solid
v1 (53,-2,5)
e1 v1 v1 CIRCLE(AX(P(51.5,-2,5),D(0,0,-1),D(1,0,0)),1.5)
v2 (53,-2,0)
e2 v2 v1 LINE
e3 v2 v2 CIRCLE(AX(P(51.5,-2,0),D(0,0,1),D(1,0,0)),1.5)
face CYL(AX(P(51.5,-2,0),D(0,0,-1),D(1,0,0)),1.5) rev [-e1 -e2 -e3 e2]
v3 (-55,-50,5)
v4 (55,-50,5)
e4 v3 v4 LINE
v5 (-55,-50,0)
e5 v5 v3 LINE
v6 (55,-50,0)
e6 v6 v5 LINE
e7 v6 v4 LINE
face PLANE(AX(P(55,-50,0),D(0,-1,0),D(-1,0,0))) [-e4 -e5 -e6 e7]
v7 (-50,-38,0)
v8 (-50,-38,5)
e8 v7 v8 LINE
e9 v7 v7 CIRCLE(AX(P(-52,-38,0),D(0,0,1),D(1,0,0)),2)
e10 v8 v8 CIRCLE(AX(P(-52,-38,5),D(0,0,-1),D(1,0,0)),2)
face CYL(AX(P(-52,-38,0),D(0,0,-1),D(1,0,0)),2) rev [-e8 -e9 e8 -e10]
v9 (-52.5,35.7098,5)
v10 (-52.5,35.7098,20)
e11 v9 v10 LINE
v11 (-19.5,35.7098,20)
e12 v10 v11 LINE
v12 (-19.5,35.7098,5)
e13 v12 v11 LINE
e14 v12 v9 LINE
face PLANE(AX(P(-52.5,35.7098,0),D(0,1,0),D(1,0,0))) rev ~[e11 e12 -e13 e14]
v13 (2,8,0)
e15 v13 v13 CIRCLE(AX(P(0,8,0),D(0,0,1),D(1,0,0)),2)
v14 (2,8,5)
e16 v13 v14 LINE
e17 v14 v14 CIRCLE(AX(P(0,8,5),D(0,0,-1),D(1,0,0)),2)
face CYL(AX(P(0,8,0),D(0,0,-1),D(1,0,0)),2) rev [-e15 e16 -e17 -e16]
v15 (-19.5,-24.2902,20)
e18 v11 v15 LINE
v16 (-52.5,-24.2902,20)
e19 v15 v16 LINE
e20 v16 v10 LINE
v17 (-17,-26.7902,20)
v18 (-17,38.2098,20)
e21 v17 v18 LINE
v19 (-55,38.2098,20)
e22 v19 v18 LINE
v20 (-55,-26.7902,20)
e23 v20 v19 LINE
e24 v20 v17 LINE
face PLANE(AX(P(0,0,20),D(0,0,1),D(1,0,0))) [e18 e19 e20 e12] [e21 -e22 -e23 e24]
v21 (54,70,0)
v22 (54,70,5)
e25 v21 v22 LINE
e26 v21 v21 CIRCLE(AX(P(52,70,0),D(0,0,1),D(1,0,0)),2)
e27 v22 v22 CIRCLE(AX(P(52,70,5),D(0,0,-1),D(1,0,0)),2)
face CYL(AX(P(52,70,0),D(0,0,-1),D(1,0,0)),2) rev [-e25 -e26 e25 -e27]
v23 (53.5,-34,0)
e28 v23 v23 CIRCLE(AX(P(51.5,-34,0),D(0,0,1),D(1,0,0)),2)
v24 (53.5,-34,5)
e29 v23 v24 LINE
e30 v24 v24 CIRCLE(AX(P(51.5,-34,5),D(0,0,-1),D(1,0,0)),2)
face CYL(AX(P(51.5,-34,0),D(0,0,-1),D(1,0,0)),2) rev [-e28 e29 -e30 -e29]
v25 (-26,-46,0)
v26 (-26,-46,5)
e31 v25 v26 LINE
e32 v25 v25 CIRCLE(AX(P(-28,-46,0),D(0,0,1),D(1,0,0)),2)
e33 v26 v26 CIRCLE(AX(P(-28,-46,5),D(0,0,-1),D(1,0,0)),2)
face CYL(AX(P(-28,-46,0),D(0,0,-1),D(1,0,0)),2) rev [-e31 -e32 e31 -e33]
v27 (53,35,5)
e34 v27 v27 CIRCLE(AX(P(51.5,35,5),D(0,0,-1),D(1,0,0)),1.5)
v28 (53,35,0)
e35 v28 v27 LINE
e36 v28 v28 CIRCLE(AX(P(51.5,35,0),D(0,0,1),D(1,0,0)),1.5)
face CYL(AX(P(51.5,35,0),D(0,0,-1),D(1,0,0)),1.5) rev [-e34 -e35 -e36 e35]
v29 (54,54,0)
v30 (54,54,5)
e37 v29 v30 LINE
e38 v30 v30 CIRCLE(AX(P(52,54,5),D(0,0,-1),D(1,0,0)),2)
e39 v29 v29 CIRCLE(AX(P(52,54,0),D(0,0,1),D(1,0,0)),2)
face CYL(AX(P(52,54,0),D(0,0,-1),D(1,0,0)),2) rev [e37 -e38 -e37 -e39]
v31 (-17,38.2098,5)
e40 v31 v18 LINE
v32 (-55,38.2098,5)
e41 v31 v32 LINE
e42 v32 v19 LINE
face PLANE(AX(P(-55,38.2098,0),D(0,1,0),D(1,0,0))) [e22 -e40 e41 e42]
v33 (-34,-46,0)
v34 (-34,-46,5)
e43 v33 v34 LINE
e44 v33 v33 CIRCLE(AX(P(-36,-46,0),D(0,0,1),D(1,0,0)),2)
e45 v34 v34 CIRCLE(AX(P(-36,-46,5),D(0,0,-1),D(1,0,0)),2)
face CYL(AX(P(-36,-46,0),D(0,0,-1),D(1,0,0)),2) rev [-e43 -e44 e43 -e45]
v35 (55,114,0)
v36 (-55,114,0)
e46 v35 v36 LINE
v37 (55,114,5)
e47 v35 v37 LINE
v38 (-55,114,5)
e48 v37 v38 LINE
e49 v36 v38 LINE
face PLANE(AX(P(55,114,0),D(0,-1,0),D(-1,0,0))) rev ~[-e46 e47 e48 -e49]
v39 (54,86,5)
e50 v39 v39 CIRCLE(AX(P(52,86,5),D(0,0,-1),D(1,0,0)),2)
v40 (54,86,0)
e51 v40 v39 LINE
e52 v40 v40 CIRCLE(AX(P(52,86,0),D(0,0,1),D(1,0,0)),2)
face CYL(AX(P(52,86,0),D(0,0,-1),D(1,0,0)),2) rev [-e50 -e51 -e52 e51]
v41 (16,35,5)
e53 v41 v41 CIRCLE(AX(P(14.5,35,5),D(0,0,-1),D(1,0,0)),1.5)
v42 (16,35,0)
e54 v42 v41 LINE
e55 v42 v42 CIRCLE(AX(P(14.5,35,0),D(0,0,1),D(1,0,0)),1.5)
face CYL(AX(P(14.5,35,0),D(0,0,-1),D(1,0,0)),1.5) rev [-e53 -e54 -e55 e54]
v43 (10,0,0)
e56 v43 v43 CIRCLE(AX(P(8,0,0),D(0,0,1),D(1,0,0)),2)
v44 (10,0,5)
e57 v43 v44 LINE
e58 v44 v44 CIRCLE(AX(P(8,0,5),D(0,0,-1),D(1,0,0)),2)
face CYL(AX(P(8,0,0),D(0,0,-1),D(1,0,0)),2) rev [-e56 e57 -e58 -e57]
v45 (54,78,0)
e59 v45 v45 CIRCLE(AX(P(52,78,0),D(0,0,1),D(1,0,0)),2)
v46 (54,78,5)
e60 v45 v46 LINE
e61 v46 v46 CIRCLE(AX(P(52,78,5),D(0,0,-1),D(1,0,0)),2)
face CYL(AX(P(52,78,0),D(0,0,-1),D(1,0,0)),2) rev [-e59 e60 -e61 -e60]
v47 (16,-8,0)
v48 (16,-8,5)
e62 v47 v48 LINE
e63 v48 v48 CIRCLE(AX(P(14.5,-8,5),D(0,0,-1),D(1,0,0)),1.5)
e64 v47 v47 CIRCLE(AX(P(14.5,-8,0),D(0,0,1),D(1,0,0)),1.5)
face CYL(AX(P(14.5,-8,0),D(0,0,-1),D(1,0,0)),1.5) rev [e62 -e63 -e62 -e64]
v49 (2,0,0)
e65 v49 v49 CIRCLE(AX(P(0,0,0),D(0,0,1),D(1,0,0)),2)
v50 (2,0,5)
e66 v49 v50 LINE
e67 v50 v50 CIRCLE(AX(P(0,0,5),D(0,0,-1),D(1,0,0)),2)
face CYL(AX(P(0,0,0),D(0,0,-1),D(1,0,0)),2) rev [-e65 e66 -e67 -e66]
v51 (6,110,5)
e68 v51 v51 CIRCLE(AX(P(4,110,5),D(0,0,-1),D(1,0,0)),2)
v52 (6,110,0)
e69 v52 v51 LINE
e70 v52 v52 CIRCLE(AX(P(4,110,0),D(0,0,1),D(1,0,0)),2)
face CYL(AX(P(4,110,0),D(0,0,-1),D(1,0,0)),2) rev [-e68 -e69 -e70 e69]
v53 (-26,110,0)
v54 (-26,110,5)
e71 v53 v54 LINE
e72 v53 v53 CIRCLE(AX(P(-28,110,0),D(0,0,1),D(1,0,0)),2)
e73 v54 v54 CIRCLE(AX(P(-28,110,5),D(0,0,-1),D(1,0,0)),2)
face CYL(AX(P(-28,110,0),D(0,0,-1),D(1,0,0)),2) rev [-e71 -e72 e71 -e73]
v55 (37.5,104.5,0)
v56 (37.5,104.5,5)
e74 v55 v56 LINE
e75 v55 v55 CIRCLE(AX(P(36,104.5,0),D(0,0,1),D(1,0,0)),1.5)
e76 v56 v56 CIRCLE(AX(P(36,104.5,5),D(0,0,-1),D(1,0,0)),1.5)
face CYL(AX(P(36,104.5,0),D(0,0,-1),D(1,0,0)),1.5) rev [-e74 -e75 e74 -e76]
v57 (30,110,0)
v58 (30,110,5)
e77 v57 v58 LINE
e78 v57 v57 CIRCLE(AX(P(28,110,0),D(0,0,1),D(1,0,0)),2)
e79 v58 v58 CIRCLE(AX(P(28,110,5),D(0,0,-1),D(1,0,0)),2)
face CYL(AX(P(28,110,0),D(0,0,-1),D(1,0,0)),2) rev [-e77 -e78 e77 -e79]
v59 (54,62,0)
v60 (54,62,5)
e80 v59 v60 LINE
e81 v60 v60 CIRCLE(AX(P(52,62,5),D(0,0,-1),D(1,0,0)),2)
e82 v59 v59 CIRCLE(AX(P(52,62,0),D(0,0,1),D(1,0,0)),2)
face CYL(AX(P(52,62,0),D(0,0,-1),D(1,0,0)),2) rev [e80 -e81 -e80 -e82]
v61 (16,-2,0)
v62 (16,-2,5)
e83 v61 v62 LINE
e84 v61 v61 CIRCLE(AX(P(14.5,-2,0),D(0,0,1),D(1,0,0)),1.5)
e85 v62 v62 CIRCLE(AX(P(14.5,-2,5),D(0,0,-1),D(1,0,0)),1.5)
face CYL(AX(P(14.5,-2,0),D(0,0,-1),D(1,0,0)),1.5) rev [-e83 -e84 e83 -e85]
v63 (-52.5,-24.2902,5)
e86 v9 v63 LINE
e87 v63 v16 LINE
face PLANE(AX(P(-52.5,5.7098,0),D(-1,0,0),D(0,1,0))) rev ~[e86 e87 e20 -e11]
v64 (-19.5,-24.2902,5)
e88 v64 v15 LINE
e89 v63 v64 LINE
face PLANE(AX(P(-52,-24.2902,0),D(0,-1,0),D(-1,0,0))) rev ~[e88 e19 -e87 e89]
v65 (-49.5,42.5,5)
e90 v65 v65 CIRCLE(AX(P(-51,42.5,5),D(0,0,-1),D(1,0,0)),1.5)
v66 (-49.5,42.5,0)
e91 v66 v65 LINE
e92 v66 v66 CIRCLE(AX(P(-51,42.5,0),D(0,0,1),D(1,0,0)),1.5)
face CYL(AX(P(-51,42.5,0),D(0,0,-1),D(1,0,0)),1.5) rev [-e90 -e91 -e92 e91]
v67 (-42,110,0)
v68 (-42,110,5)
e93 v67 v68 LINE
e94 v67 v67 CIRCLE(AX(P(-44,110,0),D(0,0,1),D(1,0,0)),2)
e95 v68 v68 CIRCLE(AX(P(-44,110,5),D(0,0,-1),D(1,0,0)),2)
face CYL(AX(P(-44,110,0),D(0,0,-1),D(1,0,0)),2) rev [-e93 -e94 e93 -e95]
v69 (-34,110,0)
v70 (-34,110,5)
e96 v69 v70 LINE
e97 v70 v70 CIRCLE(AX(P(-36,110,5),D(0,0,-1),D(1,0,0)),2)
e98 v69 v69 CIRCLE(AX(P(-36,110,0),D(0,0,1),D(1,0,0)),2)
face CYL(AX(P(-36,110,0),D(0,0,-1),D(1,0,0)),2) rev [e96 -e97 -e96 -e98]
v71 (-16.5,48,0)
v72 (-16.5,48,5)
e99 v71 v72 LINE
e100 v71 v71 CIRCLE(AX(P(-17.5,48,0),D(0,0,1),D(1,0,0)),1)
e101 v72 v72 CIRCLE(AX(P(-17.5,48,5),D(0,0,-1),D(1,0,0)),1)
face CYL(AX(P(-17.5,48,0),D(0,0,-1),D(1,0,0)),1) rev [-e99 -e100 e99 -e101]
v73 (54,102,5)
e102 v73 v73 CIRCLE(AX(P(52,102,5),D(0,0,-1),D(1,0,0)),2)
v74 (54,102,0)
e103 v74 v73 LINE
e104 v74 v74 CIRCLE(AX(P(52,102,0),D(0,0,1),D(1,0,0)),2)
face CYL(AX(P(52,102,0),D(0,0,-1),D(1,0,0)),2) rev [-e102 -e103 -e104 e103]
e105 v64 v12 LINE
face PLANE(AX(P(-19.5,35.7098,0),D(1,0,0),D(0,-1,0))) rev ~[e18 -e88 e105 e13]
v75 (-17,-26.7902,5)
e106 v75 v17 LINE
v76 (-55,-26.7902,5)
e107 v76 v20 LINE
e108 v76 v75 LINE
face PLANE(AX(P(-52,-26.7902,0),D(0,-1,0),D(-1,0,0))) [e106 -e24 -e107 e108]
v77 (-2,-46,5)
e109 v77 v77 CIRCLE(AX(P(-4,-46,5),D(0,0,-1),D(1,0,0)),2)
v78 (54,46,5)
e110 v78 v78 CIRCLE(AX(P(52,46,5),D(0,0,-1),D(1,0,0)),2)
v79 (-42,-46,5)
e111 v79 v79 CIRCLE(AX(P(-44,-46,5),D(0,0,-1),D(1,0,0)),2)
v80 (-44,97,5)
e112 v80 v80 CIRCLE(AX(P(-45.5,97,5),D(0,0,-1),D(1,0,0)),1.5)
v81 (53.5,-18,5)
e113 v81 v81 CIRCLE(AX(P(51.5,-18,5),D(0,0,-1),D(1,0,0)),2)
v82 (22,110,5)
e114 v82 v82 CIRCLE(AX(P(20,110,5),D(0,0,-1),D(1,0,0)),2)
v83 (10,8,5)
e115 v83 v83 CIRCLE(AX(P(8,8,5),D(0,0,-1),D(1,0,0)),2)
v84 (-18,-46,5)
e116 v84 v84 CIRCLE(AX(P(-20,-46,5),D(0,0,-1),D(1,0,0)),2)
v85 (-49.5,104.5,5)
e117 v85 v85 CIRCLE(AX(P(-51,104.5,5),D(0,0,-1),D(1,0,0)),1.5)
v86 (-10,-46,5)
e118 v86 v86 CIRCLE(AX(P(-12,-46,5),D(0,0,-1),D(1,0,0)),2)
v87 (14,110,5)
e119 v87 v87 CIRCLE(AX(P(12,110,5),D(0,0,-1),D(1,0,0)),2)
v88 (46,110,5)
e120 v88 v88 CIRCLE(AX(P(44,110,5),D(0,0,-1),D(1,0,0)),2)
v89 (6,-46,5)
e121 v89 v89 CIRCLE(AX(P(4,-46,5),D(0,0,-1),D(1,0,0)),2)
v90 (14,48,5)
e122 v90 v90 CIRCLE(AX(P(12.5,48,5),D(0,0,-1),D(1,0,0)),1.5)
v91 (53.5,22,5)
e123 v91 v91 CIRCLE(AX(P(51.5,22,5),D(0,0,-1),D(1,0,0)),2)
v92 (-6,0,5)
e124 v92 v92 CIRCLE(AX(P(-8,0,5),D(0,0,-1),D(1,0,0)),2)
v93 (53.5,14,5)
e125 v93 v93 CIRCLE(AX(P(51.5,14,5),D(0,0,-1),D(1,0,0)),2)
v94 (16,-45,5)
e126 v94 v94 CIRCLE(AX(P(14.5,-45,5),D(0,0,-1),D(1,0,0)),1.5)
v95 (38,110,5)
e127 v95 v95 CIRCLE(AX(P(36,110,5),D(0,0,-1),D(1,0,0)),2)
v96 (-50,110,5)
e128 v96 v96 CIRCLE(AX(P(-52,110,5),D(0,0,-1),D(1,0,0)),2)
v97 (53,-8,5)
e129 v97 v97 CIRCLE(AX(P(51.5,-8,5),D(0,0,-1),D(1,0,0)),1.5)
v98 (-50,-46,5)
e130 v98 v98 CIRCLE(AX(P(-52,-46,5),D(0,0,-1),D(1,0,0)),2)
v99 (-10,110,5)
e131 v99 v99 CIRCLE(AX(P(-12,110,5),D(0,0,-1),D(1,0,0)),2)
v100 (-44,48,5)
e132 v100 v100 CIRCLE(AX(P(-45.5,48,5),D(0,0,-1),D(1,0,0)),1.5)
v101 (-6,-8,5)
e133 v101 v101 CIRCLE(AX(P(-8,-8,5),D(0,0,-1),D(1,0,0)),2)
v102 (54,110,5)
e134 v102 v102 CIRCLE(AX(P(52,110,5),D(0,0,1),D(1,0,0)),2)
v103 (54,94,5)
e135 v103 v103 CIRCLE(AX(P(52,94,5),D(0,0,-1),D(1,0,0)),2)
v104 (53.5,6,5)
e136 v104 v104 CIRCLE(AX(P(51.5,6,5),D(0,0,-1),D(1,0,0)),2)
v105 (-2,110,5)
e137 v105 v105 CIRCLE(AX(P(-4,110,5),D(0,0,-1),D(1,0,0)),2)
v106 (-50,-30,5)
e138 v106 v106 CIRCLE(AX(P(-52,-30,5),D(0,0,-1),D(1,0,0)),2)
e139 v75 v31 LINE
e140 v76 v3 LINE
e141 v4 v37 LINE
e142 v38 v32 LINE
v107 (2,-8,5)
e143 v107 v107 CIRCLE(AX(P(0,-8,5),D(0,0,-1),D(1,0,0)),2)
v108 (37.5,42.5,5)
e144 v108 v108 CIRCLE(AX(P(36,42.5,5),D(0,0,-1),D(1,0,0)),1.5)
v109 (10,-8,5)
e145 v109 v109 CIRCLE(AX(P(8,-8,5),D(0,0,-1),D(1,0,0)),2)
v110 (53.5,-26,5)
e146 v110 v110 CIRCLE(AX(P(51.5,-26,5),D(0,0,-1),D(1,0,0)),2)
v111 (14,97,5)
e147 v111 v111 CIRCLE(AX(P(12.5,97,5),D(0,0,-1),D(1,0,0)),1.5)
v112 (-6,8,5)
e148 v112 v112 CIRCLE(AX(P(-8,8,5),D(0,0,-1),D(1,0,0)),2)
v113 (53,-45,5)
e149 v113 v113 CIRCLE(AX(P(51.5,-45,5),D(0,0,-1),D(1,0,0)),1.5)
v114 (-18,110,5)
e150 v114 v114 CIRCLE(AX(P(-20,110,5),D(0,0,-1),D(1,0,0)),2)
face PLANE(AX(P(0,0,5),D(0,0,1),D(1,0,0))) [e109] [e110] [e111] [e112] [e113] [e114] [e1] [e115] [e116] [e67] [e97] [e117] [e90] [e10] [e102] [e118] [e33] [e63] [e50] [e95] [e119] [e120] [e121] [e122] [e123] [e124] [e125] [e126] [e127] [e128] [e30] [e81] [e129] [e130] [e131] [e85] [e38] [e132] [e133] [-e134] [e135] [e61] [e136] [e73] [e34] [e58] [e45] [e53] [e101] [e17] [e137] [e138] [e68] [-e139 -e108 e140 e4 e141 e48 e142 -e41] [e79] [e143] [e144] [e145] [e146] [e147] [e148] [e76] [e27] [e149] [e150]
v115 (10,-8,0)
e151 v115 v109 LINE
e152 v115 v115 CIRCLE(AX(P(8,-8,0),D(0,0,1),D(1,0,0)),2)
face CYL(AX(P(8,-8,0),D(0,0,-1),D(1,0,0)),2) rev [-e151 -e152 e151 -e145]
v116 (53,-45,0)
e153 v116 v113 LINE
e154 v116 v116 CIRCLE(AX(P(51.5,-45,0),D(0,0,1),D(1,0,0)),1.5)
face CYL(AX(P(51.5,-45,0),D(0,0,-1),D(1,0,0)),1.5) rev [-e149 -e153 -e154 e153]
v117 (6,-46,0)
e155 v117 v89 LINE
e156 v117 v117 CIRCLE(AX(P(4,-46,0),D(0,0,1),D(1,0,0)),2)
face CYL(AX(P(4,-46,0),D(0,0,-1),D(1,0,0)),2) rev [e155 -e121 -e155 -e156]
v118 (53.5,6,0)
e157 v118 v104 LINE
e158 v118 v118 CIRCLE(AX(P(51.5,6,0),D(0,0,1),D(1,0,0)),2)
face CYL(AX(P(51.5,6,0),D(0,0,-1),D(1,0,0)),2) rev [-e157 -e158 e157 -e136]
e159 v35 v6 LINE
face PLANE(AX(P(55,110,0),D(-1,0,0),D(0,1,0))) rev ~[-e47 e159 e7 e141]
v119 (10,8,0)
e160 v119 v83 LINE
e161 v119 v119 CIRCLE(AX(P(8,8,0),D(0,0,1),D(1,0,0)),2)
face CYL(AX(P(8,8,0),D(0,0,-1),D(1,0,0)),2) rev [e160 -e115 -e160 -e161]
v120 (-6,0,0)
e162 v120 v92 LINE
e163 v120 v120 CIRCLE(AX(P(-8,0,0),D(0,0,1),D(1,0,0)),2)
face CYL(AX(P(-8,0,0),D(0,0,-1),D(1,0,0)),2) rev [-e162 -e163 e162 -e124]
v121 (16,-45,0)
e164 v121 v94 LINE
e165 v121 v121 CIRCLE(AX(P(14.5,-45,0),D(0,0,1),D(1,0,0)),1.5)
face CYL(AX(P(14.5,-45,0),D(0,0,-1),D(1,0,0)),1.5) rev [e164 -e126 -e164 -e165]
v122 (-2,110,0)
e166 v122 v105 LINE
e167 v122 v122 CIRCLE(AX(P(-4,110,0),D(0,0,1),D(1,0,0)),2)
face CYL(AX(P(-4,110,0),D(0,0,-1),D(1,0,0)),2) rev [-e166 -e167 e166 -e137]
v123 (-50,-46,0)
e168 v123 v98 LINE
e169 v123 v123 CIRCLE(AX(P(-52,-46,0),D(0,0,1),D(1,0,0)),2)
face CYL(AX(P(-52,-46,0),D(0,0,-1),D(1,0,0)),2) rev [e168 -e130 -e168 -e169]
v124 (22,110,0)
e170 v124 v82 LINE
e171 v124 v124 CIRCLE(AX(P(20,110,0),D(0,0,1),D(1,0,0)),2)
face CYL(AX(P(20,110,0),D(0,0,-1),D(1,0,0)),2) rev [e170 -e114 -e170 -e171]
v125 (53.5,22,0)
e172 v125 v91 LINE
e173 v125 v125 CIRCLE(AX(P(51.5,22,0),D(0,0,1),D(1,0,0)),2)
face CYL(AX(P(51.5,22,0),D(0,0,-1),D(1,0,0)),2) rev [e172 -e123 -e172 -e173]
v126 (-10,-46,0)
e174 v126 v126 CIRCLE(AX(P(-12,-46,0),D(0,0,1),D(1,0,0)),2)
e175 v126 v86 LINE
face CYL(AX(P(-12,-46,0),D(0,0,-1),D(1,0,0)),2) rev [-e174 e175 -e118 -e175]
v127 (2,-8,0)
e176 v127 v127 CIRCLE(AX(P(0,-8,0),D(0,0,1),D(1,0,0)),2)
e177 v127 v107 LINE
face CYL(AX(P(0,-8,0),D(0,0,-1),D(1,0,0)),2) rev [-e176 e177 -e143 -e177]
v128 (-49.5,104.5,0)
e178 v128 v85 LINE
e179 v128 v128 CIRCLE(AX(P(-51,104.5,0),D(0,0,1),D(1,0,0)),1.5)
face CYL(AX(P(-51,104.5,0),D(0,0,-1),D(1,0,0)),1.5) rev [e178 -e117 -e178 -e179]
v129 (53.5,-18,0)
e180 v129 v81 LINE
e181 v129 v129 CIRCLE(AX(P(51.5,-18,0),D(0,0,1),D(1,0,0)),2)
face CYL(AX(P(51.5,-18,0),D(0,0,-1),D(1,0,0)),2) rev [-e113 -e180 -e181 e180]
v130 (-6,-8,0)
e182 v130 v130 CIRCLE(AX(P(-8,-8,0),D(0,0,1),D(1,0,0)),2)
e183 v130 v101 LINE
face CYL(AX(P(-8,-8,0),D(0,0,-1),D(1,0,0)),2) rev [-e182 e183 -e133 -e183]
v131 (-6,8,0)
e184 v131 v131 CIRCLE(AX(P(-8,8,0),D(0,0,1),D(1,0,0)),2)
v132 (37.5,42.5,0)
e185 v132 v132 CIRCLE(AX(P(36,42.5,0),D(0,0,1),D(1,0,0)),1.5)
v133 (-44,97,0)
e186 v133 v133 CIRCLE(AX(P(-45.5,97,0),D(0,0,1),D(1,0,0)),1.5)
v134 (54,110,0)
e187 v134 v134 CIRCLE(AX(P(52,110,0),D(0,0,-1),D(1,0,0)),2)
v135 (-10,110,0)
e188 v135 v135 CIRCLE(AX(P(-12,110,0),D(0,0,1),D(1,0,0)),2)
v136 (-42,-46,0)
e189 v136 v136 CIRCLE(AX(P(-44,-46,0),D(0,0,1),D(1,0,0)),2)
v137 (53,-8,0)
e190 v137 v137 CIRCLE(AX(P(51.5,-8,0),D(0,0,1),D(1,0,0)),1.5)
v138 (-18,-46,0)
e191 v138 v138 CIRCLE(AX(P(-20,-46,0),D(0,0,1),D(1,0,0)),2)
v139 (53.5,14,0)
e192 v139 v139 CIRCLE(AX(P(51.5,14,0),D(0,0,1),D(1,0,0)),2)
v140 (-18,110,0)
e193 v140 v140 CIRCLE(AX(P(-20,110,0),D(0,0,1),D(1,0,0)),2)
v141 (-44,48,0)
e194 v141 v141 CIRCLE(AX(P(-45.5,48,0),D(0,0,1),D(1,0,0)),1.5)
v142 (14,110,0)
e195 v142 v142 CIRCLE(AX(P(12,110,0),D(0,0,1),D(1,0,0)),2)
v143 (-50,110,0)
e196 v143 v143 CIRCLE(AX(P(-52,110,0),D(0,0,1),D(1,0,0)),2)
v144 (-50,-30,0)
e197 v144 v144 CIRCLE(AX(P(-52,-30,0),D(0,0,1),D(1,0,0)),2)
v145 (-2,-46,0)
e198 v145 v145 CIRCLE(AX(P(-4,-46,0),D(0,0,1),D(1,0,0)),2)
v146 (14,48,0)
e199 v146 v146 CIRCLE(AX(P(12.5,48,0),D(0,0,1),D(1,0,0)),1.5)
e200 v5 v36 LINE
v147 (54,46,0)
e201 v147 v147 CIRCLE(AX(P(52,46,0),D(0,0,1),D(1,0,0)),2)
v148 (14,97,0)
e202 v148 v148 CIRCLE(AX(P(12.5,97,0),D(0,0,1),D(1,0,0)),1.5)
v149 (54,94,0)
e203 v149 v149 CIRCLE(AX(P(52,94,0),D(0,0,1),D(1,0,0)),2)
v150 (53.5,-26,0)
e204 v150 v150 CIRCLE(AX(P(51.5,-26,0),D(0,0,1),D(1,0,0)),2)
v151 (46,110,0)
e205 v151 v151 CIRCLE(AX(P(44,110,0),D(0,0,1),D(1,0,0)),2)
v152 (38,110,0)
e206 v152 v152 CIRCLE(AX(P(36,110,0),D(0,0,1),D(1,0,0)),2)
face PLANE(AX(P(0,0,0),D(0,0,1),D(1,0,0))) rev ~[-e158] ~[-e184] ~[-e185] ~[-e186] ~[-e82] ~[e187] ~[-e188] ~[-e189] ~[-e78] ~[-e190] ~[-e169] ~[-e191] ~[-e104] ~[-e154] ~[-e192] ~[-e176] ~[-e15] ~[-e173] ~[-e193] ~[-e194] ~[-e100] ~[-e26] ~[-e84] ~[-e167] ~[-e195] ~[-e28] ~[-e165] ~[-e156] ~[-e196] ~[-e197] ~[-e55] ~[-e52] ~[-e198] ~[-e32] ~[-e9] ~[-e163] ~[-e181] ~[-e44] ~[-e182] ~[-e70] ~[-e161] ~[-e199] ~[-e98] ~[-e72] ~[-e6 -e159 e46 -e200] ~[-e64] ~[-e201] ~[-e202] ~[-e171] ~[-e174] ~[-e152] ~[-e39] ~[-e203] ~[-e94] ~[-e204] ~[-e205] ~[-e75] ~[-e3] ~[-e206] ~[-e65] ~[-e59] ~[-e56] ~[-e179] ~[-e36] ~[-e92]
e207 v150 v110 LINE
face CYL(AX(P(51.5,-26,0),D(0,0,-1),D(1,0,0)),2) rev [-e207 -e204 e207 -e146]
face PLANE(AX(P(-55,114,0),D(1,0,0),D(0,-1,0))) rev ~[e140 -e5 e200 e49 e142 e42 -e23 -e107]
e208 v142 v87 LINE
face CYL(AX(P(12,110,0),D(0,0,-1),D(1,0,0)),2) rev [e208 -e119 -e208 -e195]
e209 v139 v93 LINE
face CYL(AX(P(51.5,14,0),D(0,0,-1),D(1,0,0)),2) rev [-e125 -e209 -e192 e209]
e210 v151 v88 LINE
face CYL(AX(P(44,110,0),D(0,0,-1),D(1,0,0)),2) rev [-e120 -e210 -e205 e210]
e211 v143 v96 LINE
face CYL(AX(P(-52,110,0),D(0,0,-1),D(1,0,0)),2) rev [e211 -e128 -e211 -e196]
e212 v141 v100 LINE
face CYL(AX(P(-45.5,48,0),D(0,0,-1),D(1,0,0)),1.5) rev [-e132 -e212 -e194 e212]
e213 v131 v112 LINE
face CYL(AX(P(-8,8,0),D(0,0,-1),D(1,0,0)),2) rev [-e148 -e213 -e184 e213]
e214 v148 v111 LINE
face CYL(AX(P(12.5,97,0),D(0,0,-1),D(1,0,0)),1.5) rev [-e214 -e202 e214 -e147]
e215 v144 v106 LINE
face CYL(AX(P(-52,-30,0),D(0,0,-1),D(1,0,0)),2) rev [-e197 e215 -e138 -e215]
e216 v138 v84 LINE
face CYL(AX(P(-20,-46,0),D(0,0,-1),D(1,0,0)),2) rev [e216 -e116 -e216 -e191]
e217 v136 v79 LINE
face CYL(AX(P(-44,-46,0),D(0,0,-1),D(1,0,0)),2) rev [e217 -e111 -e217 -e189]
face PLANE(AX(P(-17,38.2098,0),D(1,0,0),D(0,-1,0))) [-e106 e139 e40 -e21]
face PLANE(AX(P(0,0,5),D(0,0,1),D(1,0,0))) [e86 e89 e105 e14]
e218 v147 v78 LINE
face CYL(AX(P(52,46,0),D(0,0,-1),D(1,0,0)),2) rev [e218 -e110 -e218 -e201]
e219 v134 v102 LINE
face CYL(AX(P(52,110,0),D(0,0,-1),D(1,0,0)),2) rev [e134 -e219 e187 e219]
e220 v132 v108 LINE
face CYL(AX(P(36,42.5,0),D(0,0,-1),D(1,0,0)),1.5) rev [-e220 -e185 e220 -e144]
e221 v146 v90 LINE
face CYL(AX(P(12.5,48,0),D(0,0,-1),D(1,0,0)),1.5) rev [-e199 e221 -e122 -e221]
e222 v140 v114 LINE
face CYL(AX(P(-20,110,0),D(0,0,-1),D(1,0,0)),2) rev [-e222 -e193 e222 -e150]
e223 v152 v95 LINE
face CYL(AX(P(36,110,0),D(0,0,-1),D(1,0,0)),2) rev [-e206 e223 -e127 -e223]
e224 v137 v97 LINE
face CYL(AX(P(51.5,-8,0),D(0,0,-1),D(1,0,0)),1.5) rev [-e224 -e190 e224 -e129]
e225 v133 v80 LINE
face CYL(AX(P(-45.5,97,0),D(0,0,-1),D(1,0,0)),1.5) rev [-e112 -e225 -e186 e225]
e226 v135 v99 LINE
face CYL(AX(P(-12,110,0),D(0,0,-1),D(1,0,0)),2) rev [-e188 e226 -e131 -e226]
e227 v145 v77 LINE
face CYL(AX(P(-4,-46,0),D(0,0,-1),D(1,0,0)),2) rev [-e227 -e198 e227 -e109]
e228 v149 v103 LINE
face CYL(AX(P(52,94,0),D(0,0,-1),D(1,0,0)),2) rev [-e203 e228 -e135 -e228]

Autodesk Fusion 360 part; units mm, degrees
sketch "Skizze1" plane through (0, 0, 0) normal (0, 0, 1) x (1, 0, 0)
  line L0 (-55, 110) -> (55, 110)
  line L1 (55, 110) -> (55, -50)
  line L2 (55, -50) -> (-55, -50)
  line L3 (-55, -50) -> (-55, 110)
  circle A0 centre (0, 0) radius 2
  line L4 (0, 0) -> (-8, 0)
  line L5 (-8, 0) -> (-8, 8)
  line L6 (-8, 8) -> (0, 8)
  line L7 (0, 8) -> (0, 0)
  line L8 (-8, 8) -> (8, 8)
  line L9 (8, 8) -> (8, -8)
  line L10 (8, -8) -> (-8, -8)
  line L11 (-8, -8) -> (-8, 8)
  line L12 (0, 8) -> (8, 8)
  line L13 (8, 8) -> (8, -8)
  line L14 (8, -8) -> (0, -8)
  line L15 (0, -8) -> (0, 8)
  line L16 (-8, 0) -> (8, 0)
  line L17 (8, 0) -> (8, -8)
  line L18 (8, -8) -> (-8, -8)
  line L19 (-8, -8) -> (-8, 0)
  circle A1 centre (0, 8) radius 2
  circle A2 centre (-8, 8) radius 2
  circle A3 centre (-8, 0) radius 2
  circle A4 centre (-8, -8) radius 2
  circle A5 centre (0, -8) radius 2
  circle A6 centre (8, -8) radius 2
  circle A7 centre (8, 0) radius 2
  circle A8 centre (8, 8) radius 2
  circle A9 centre (-45.5, 97) radius 1.5
  circle A10 centre (12.5, 48) radius 1.5
  line L20 (-45.5, 97) -> (12.5, 97)
  line L21 (12.5, 97) -> (12.5, 48)
  line L22 (12.5, 48) -> (-45.5, 48)
  line L23 (-45.5, 48) -> (-45.5, 97)
  circle A11 centre (-45.5, 48) radius 1.5
  circle A12 centre (12.5, 97) radius 1.5
  line L24 (-50, 101.5) -> (35, 101.5)
  line L25 (35, 101.5) -> (35, 45.5)
  line L26 (35, 45.5) -> (-50, 45.5)
  line L27 (-50, 45.5) -> (-50, 101.5)
  line L28 (-45.5, 48) -> (12.5, 48)
  line L29 (12.5, 48) -> (12.5, 72.5)
  line L30 (-50, 45.5) -> (35, 45.5)
  line L31 (35, 45.5) -> (35, 73.5)
  line L32 (-51, 104.5) -> (36, 104.5)
  line L33 (36, 104.5) -> (36, 42.5)
  line L34 (36, 42.5) -> (-51, 42.5)
  line L35 (-51, 42.5) -> (-51, 104.5)
  circle A13 centre (-51, 42.5) radius 1.5
  circle A14 centre (-51, 104.5) radius 1.5
  circle A15 centre (36, 104.5) radius 1.5
  circle A16 centre (36, 42.5) radius 1.5
  line L36 (-7.5, 104.5) -> (-7.5, 42.5)
  line L37 (36, 73.5) -> (-51, 73.5)
  line L38 (-7.5, 101.5) -> (-7.5, 45.5)
  line L39 (35, 73.5) -> (-50, 73.5)
  line L40 (-52.5, 35.7098) -> (-19.5, 35.7098)
  line L41 (-19.5, 35.7098) -> (-19.5, -24.2902)
  line L42 (-19.5, -24.2902) -> (-52.5, -24.2902)
  line L43 (-52.5, -24.2902) -> (-52.5, 35.7098)
  line L44 (-36, 35.7098) -> (-36, -24.2902)
  line L45 (-19.5, 5.7098) -> (-52.5, 5.7098)
  line L46 (-55, 38.2098) -> (-17, 38.2098)
  line L47 (-17, 38.2098) -> (-17, -26.7902)
  line L48 (-17, -26.7902) -> (-55, -26.7902)
  line L49 (-55, -26.7902) -> (-55, 38.2098)
  line L50 (-36, 38.2098) -> (-36, -26.7902)
  line L51 (-17, 5.7098) -> (-55, 5.7098)
  line L52 (11.5, -5) -> (54.5, -5)
  line L53 (54.5, -5) -> (54.5, -48)
  line L54 (54.5, -48) -> (11.5, -48)
  line L55 (11.5, -48) -> (11.5, -5)
  line L56 (14.5, -8) -> (51.5, -8)
  line L57 (51.5, -8) -> (51.5, -45)
  line L58 (51.5, -45) -> (14.5, -45)
  line L59 (14.5, -45) -> (14.5, -8)
  circle A17 centre (14.5, -8) radius 1.5
  circle A18 centre (51.5, -8) radius 1.5
  circle A19 centre (51.5, -45) radius 1.5
  circle A20 centre (14.5, -45) radius 1.5
  line L60 (14.5, -26.5) -> (51.5, -26.5)
  line L61 (33, -8) -> (33, -45)
  line L62 (33, -5) -> (33, -48)
  line L63 (54.5, -26.5) -> (11.5, -26.5)
  line L64 (11.5, -5) -> (11.5, 38)
  circle A21 centre (14.5, -2) radius 1.5
  circle A22 centre (51.5, 35) radius 1.5
  circle A23 centre (14.5, 35) radius 1.5
  line L65 (11.5, 38) -> (54.5, 38)
  line L66 (33, 38) -> (33, -5)
  line L67 (54.5, 16.5) -> (11.5, 16.5)
  line L68 (33, 35) -> (33, -2)
  line L69 (14.5, 16.5) -> (51.5, 16.5)
  line L70 (14.5, 35) -> (51.5, 35)
  line L71 (54.5, -5) -> (11.5, -5)
  line L72 (51.5, 35) -> (51.5, -2)
  line L73 (54.5, 38) -> (54.5, -5)
  line L74 (51.5, -2) -> (14.5, -2)
  circle A24 centre (51.5, -2) radius 1.5
  line L75 (14.5, -2) -> (14.5, 35)
  line L76 (33, 16.5) -> (33, -26.5)
  line L77 (-55, 110) -> (55, 110)
  line L78 (55, 110) -> (55, 104.5)
  line L79 (55, 104.5) -> (-55, 104.5)
  line L80 (-55, 104.5) -> (-55, 110)
  line L81 (-55, 104.5) -> (-7.5, 104.5)
  line L82 (-7.5, 104.5) -> (-7.5, 73.5)
  line L83 (-7.5, 73.5) -> (-55, 73.5)
  line L84 (-55, 73.5) -> (-55, 104.5)
  line L85 (-55, 42.7098) -> (-36, 42.7098)
  line L86 (-36, 42.7098) -> (-36, 5.7098)
  line L87 (-36, 5.7098) -> (-55, 5.7098)
  line L88 (-55, 5.7098) -> (-55, 42.7098)
  line L89 (55, 42.5) -> (33, 42.5)
  line L90 (33, 42.5) -> (33, 16.5)
  line L91 (33, 16.5) -> (55, 16.5)
  line L92 (55, 16.5) -> (55, 42.5)
  line L93 (-55, 110) -> (55, 110)
  line L94 (55, 110) -> (55, 114)
  line L95 (55, 114) -> (-55, 114)
  line L96 (-55, 114) -> (-55, 110)
  circle A25 centre (-28, 110) radius 2
  circle A26 centre (-20, 110) radius 2
  circle A27 centre (-12, 110) radius 2
  circle A28 centre (-36, 110) radius 2
  circle A29 centre (-44, 110) radius 2
  circle A30 centre (-52, 110) radius 2
  circle A31 centre (-4, 110) radius 2
  circle A32 centre (4, 110) radius 2
  circle A33 centre (12, 110) radius 2
  circle A34 centre (20, 110) radius 2
  circle A35 centre (28, 110) radius 2
  circle A36 centre (36, 110) radius 2
  circle A37 centre (44, 110) radius 2
  circle A38 centre (52, 110) radius 2
  line L97 (52, 110) -> (52, 42.5)
  circle A39 centre (52, 102) radius 2
  circle A40 centre (52, 94) radius 2
  circle A41 centre (52, 86) radius 2
  circle A42 centre (52, 70) radius 2
  circle A43 centre (52, 78) radius 2
  circle A44 centre (52, 62) radius 2
  circle A45 centre (52, 54) radius 2
  circle A46 centre (52, 46) radius 2
  line L98 (-55, -50) -> (11.5, -50)
  line L99 (11.5, -50) -> (11.5, -46)
  line L100 (11.5, -46) -> (-55, -46)
  line L101 (-55, -46) -> (-55, -50)
  circle A47 centre (-52, -46) radius 2
  circle A48 centre (-44, -46) radius 2
  circle A49 centre (-36, -46) radius 2
  circle A50 centre (-28, -46) radius 2
  circle A51 centre (-20, -46) radius 2
  circle A52 centre (-12, -46) radius 2
  circle A53 centre (-4, -46) radius 2
  circle A54 centre (4, -46) radius 2
  circle A55 centre (-17.5, 48) radius 1
  line L102 (-52, -46) -> (-52, -24.2902)
  circle A56 centre (-52, -38) radius 2
  circle A57 centre (-52, -30) radius 2
  circle A58 centre (51.5, 22) radius 2
  circle A59 centre (51.5, 14) radius 2
  circle A60 centre (51.5, 6) radius 2
  circle A61 centre (51.5, -18) radius 2
  circle A62 centre (51.5, -26) radius 2
  circle A63 centre (51.5, -34) radius 2
  point P0 (-7.5, 73.5)
  point P1 (-7.5, 73.5)
  point P2 (-36, 5.7098)
  point P3 (-36, 5.7098)
  point P4 (33, -26.5)
  point P5 (33, -26.5)
  point P6 (33, 16.5)
  point P7 (33, 16.5)
  point P8 (-52, 110)
  point P9 (-44, 110)
  point P10 (-36, 110)
  dimension "d1" = 110
  dimension "d2" = 160
  dimension "d3" = 55
  dimension "d4" = 50
  dimension "d5" = 4
  dimension "d6" = 8
  dimension "d7" = 8
  dimension "d8" = 16
  dimension "d9" = 16
  dimension "d10" = 4
  dimension "d11" = 4
  dimension "d12" = 4
  dimension "d13" = 4
  dimension "d14" = 4
  dimension "d15" = 4
  dimension "d16" = 4
  dimension "d17" = 4
  dimension "d20" = 3
  dimension "d23" = 3
  dimension "d28" = 3
  dimension "d29" = 3
  dimension "d30" = 58
  dimension "d31" = 49
  dimension "d32" = 85
  dimension "d33" = 56
  dimension "d35" = 4.5
  dimension "d36" = 4.5
  dimension "d37" = 87
  dimension "d38" = 62
  dimension "d39" = 3
  dimension "d40" = 3
  dimension "d41" = 3
  dimension "d42" = 3
  dimension "d45" = 33
  dimension "d46" = 60
  dimension "d47" = 38
  dimension "d48" = 65
  dimension "d51" = 43
  dimension "d52" = 43
  dimension "d53" = 37
  dimension "d54" = 37
  dimension "d55" = 3
  dimension "d56" = 3
  dimension "d57" = 3
  dimension "d58" = 3
  dimension "d59" = 43
  dimension "d60" = 43
  dimension "d61" = 37
  dimension "d62" = 37
  dimension "d63" = 3
  dimension "d64" = 3
  dimension "d65" = 3
  dimension "d66" = 3
  dimension "d67" = 43
  dimension "d68" = 5.5
  dimension "d69" = 47.5
  dimension "d70" = 31
  dimension "d71" = 19
  dimension "d72" = 37
  dimension "d73" = 22
  dimension "d74" = 26
  dimension "d75" = 4
  dimension "d76" = 3
  dimension "d77" = 8
  dimension "d78" = 8
  dimension "d79" = 4
  dimension "d80" = 4
  dimension "d81" = 4
  dimension "d82" = 8
  dimension "d83" = 8
  dimension "d84" = 8
  dimension "d85" = 4
  dimension "d86" = 4
  dimension "d87" = 4
  dimension "d88" = 4
  dimension "d89" = 4
  dimension "d90" = 4
  dimension "d91" = 4
  dimension "d92" = 8
  dimension "d93" = 8
  dimension "d94" = 8
  dimension "d95" = 8
  dimension "d96" = 4
  dimension "d97" = 4
  dimension "d98" = 4
  dimension "d99" = 4
  dimension "d100" = 8
  dimension "d101" = 8
  dimension "d102" = 8
  dimension "d103" = 8
  dimension "d104" = 4
  dimension "d105" = 4
  dimension "d106" = 4
  dimension "d107" = 4
  dimension "d108" = 4
  dimension "d110" = 4
  dimension "d111" = 4
  dimension "d112" = 8
  dimension "d113" = 8
  dimension "d114" = 8
  dimension "d116" = 8
  dimension "d117" = 8
  dimension "d118" = 8
  dimension "d119" = 8
  dimension "d120" = 4
  dimension "d121" = 8
  dimension "d122" = 4
  dimension "d123" = 4
  dimension "d124" = 4
  dimension "d125" = 4
  dimension "d126" = 4
  dimension "d127" = 3
  dimension "d128" = 8
  dimension "d129" = 8
  dimension "d130" = 8
  dimension "d131" = 4
  dimension "d132" = 4
  dimension "d133" = 4
  dimension "d134" = 8
  dimension "d135" = 8
  dimension "d136" = 8
  dimension "d137" = 4
  dimension "d138" = 8
  dimension "d139" = 2
  dimension "d140" = 28
  dimension "d141" = 4
  dimension "d142" = 4
  dimension "d143" = 8
  dimension "d144" = 8
  dimension "d145" = 4
  dimension "d146" = 24
  dimension "d147" = 4
  dimension "d148" = 8
  dimension "d149" = 4
  dimension "d150" = 8
  dimension "d151" = 4
  dimension "d152" = 4
  dimension "d153" = 4
  dimension "d154" = 24
  dimension "d155" = 8
  dimension "d156" = 8
extrude "Extrusion2" add sketch "Skizze1" along normal blind 5 contours L0 L77 L93 L94 L95 L96 A25 A26 A27 A28 A29 A30 A31 A32 A33 A34 A35 A36 A37 A38 | L0 L1 L77 L78 L79 L93 A38 L97 | L0 L3 L32 A14 A15 L77 L79 L80 L81 L93 A25 A26 A27 A28 A29 A30 A31 A32 A33 A34 A35 A36 A37 A38 L97 | L33 A15 A16 L79 L89 L97 A39 A40 A41 A42 A43 A44 A45 A46 | L1 L79 L89 L97 A39 A40 A41 A42 A43 A44 A45 A46 | L1 L34 A16 L65 L73 L89 L90 L91 L92 | L24 L25 L32 L33 A15 L36 L37 L79 L82 | L1 L2 L53 L54 L73 L91 L99 | L24 L27 L32 L35 A14 L36 L37 L79 L81 L82 L83 | L25 L26 L30 L31 L33 L34 A16 L36 L37 L89 | L52 L66 L67 L71 L72 L73 L74 A24 L76 L91 A59 A60 | A22 L65 L66 L67 L70 L72 L73 L90 L91 A58 | L3 L35 A14 L79 L81 L83 L84 | A9 L20 L23 L24 L27 L36 L37 L38 L39 L82 L83 | L20 L21 A12 L24 L25 L36 L37 L38 L39 L82 | A10 L21 L22 L25 L26 L28 L29 L30 L31 L36 L37 L38 L39 | L2 L3 L55 L98 L99 L100 L101 A47 A48 A49 A50 A51 A52 A53 A54 | L66 L67 L68 L69 L72 L74 A24 L76 L91 A59 A60 | A22 L66 L67 L68 L69 L70 L72 L90 L91 A58 | L52 L53 L56 L57 A18 L62 L63 L71 L76 A61 A62 | L3 L35 A13 L83 L85 | A9 L20 L23 L36 L37 L38 L39 L82 L83 | L20 L21 A12 L36 L37 L38 L39 L82 | A10 L21 L22 L28 L29 L36 L37 L38 L39 | L54 L55 L58 L59 A20 L62 L63 L99 | A23 L66 L67 L68 L69 L70 L75 L90 | A21 L66 L67 L68 L69 L74 L75 L76 | L64 A23 L65 L66 L67 L70 L75 L90 | L34 L46 L47 L48 L55 L64 L65 L86 L90 L100 A47 A48 A49 A50 A51 A52 A53 A54 L102 A56 A57 | L52 L55 L56 L59 A17 L62 L63 L71 L76 | L52 L64 A21 L66 L67 L71 L74 L75 L76 | L53 L54 L57 L58 A19 L62 L63 A62 A63 | L3 L34 A13 L46 L85 L86 L88 | L26 L27 L30 L34 L35 A13 L36 L37 L83 L85 L86 | L22 L23 A11 L26 L27 L28 L30 L36 L37 L38 L39 L83 A55 | L22 L23 A11 L28 L36 L37 L38 L39 L83 A55 | L3 L48 L100 A47 L102 A56 A57 | L56 L59 A17 L60 L61 L62 L63 L76 | L56 L57 A18 L60 L61 L62 L63 L76 A61 A62 | L3 L40 L43 L46 L49 L50 L51 L86 L87 L88 | L3 L42 L43 L48 L49 L51 L87 L102 | L57 L58 A19 L60 L61 L62 L63 A62 A63 | L58 L59 A20 L60 L61 L62 L63 | L34 A13 L85 L86 | L40 L41 L46 L47 L50 L51 L86 | L42 L48 L50 L102 | L42 L43 L44 L45 L50 L51 L87 | L40 L43 L44 L45 L50 L51 L86 L87 | L40 L41 L44 L45 L50 L51 L86 | L41 L42 L47 L48 L50 L51 | L41 L42 L44 L45 L50 L51 | A0 L9 L10 L13 L14 L15 L16 L17 L18 A5 A6 A7 | A0 L7 L8 L9 L12 L13 L15 L16 A1 A7 A8 | A0 L4 L5 L6 L7 L8 L11 L15 L16 A1 A2 A3 | A0 L4 L10 L11 L15 L16 L18 L19 A3 A4 A5
extrude "Extrusion3" add sketch "Skizze1" along normal blind 20 contours L3 L40 L43 L46 L49 L50 L51 L86 L87 L88 | L3 L42 L43 L48 L49 L51 L87 L102 | L40 L41 L46 L47 L50 L51 L86 | L42 L48 L50 L102 | L41 L42 L47 L48 L50 L51
